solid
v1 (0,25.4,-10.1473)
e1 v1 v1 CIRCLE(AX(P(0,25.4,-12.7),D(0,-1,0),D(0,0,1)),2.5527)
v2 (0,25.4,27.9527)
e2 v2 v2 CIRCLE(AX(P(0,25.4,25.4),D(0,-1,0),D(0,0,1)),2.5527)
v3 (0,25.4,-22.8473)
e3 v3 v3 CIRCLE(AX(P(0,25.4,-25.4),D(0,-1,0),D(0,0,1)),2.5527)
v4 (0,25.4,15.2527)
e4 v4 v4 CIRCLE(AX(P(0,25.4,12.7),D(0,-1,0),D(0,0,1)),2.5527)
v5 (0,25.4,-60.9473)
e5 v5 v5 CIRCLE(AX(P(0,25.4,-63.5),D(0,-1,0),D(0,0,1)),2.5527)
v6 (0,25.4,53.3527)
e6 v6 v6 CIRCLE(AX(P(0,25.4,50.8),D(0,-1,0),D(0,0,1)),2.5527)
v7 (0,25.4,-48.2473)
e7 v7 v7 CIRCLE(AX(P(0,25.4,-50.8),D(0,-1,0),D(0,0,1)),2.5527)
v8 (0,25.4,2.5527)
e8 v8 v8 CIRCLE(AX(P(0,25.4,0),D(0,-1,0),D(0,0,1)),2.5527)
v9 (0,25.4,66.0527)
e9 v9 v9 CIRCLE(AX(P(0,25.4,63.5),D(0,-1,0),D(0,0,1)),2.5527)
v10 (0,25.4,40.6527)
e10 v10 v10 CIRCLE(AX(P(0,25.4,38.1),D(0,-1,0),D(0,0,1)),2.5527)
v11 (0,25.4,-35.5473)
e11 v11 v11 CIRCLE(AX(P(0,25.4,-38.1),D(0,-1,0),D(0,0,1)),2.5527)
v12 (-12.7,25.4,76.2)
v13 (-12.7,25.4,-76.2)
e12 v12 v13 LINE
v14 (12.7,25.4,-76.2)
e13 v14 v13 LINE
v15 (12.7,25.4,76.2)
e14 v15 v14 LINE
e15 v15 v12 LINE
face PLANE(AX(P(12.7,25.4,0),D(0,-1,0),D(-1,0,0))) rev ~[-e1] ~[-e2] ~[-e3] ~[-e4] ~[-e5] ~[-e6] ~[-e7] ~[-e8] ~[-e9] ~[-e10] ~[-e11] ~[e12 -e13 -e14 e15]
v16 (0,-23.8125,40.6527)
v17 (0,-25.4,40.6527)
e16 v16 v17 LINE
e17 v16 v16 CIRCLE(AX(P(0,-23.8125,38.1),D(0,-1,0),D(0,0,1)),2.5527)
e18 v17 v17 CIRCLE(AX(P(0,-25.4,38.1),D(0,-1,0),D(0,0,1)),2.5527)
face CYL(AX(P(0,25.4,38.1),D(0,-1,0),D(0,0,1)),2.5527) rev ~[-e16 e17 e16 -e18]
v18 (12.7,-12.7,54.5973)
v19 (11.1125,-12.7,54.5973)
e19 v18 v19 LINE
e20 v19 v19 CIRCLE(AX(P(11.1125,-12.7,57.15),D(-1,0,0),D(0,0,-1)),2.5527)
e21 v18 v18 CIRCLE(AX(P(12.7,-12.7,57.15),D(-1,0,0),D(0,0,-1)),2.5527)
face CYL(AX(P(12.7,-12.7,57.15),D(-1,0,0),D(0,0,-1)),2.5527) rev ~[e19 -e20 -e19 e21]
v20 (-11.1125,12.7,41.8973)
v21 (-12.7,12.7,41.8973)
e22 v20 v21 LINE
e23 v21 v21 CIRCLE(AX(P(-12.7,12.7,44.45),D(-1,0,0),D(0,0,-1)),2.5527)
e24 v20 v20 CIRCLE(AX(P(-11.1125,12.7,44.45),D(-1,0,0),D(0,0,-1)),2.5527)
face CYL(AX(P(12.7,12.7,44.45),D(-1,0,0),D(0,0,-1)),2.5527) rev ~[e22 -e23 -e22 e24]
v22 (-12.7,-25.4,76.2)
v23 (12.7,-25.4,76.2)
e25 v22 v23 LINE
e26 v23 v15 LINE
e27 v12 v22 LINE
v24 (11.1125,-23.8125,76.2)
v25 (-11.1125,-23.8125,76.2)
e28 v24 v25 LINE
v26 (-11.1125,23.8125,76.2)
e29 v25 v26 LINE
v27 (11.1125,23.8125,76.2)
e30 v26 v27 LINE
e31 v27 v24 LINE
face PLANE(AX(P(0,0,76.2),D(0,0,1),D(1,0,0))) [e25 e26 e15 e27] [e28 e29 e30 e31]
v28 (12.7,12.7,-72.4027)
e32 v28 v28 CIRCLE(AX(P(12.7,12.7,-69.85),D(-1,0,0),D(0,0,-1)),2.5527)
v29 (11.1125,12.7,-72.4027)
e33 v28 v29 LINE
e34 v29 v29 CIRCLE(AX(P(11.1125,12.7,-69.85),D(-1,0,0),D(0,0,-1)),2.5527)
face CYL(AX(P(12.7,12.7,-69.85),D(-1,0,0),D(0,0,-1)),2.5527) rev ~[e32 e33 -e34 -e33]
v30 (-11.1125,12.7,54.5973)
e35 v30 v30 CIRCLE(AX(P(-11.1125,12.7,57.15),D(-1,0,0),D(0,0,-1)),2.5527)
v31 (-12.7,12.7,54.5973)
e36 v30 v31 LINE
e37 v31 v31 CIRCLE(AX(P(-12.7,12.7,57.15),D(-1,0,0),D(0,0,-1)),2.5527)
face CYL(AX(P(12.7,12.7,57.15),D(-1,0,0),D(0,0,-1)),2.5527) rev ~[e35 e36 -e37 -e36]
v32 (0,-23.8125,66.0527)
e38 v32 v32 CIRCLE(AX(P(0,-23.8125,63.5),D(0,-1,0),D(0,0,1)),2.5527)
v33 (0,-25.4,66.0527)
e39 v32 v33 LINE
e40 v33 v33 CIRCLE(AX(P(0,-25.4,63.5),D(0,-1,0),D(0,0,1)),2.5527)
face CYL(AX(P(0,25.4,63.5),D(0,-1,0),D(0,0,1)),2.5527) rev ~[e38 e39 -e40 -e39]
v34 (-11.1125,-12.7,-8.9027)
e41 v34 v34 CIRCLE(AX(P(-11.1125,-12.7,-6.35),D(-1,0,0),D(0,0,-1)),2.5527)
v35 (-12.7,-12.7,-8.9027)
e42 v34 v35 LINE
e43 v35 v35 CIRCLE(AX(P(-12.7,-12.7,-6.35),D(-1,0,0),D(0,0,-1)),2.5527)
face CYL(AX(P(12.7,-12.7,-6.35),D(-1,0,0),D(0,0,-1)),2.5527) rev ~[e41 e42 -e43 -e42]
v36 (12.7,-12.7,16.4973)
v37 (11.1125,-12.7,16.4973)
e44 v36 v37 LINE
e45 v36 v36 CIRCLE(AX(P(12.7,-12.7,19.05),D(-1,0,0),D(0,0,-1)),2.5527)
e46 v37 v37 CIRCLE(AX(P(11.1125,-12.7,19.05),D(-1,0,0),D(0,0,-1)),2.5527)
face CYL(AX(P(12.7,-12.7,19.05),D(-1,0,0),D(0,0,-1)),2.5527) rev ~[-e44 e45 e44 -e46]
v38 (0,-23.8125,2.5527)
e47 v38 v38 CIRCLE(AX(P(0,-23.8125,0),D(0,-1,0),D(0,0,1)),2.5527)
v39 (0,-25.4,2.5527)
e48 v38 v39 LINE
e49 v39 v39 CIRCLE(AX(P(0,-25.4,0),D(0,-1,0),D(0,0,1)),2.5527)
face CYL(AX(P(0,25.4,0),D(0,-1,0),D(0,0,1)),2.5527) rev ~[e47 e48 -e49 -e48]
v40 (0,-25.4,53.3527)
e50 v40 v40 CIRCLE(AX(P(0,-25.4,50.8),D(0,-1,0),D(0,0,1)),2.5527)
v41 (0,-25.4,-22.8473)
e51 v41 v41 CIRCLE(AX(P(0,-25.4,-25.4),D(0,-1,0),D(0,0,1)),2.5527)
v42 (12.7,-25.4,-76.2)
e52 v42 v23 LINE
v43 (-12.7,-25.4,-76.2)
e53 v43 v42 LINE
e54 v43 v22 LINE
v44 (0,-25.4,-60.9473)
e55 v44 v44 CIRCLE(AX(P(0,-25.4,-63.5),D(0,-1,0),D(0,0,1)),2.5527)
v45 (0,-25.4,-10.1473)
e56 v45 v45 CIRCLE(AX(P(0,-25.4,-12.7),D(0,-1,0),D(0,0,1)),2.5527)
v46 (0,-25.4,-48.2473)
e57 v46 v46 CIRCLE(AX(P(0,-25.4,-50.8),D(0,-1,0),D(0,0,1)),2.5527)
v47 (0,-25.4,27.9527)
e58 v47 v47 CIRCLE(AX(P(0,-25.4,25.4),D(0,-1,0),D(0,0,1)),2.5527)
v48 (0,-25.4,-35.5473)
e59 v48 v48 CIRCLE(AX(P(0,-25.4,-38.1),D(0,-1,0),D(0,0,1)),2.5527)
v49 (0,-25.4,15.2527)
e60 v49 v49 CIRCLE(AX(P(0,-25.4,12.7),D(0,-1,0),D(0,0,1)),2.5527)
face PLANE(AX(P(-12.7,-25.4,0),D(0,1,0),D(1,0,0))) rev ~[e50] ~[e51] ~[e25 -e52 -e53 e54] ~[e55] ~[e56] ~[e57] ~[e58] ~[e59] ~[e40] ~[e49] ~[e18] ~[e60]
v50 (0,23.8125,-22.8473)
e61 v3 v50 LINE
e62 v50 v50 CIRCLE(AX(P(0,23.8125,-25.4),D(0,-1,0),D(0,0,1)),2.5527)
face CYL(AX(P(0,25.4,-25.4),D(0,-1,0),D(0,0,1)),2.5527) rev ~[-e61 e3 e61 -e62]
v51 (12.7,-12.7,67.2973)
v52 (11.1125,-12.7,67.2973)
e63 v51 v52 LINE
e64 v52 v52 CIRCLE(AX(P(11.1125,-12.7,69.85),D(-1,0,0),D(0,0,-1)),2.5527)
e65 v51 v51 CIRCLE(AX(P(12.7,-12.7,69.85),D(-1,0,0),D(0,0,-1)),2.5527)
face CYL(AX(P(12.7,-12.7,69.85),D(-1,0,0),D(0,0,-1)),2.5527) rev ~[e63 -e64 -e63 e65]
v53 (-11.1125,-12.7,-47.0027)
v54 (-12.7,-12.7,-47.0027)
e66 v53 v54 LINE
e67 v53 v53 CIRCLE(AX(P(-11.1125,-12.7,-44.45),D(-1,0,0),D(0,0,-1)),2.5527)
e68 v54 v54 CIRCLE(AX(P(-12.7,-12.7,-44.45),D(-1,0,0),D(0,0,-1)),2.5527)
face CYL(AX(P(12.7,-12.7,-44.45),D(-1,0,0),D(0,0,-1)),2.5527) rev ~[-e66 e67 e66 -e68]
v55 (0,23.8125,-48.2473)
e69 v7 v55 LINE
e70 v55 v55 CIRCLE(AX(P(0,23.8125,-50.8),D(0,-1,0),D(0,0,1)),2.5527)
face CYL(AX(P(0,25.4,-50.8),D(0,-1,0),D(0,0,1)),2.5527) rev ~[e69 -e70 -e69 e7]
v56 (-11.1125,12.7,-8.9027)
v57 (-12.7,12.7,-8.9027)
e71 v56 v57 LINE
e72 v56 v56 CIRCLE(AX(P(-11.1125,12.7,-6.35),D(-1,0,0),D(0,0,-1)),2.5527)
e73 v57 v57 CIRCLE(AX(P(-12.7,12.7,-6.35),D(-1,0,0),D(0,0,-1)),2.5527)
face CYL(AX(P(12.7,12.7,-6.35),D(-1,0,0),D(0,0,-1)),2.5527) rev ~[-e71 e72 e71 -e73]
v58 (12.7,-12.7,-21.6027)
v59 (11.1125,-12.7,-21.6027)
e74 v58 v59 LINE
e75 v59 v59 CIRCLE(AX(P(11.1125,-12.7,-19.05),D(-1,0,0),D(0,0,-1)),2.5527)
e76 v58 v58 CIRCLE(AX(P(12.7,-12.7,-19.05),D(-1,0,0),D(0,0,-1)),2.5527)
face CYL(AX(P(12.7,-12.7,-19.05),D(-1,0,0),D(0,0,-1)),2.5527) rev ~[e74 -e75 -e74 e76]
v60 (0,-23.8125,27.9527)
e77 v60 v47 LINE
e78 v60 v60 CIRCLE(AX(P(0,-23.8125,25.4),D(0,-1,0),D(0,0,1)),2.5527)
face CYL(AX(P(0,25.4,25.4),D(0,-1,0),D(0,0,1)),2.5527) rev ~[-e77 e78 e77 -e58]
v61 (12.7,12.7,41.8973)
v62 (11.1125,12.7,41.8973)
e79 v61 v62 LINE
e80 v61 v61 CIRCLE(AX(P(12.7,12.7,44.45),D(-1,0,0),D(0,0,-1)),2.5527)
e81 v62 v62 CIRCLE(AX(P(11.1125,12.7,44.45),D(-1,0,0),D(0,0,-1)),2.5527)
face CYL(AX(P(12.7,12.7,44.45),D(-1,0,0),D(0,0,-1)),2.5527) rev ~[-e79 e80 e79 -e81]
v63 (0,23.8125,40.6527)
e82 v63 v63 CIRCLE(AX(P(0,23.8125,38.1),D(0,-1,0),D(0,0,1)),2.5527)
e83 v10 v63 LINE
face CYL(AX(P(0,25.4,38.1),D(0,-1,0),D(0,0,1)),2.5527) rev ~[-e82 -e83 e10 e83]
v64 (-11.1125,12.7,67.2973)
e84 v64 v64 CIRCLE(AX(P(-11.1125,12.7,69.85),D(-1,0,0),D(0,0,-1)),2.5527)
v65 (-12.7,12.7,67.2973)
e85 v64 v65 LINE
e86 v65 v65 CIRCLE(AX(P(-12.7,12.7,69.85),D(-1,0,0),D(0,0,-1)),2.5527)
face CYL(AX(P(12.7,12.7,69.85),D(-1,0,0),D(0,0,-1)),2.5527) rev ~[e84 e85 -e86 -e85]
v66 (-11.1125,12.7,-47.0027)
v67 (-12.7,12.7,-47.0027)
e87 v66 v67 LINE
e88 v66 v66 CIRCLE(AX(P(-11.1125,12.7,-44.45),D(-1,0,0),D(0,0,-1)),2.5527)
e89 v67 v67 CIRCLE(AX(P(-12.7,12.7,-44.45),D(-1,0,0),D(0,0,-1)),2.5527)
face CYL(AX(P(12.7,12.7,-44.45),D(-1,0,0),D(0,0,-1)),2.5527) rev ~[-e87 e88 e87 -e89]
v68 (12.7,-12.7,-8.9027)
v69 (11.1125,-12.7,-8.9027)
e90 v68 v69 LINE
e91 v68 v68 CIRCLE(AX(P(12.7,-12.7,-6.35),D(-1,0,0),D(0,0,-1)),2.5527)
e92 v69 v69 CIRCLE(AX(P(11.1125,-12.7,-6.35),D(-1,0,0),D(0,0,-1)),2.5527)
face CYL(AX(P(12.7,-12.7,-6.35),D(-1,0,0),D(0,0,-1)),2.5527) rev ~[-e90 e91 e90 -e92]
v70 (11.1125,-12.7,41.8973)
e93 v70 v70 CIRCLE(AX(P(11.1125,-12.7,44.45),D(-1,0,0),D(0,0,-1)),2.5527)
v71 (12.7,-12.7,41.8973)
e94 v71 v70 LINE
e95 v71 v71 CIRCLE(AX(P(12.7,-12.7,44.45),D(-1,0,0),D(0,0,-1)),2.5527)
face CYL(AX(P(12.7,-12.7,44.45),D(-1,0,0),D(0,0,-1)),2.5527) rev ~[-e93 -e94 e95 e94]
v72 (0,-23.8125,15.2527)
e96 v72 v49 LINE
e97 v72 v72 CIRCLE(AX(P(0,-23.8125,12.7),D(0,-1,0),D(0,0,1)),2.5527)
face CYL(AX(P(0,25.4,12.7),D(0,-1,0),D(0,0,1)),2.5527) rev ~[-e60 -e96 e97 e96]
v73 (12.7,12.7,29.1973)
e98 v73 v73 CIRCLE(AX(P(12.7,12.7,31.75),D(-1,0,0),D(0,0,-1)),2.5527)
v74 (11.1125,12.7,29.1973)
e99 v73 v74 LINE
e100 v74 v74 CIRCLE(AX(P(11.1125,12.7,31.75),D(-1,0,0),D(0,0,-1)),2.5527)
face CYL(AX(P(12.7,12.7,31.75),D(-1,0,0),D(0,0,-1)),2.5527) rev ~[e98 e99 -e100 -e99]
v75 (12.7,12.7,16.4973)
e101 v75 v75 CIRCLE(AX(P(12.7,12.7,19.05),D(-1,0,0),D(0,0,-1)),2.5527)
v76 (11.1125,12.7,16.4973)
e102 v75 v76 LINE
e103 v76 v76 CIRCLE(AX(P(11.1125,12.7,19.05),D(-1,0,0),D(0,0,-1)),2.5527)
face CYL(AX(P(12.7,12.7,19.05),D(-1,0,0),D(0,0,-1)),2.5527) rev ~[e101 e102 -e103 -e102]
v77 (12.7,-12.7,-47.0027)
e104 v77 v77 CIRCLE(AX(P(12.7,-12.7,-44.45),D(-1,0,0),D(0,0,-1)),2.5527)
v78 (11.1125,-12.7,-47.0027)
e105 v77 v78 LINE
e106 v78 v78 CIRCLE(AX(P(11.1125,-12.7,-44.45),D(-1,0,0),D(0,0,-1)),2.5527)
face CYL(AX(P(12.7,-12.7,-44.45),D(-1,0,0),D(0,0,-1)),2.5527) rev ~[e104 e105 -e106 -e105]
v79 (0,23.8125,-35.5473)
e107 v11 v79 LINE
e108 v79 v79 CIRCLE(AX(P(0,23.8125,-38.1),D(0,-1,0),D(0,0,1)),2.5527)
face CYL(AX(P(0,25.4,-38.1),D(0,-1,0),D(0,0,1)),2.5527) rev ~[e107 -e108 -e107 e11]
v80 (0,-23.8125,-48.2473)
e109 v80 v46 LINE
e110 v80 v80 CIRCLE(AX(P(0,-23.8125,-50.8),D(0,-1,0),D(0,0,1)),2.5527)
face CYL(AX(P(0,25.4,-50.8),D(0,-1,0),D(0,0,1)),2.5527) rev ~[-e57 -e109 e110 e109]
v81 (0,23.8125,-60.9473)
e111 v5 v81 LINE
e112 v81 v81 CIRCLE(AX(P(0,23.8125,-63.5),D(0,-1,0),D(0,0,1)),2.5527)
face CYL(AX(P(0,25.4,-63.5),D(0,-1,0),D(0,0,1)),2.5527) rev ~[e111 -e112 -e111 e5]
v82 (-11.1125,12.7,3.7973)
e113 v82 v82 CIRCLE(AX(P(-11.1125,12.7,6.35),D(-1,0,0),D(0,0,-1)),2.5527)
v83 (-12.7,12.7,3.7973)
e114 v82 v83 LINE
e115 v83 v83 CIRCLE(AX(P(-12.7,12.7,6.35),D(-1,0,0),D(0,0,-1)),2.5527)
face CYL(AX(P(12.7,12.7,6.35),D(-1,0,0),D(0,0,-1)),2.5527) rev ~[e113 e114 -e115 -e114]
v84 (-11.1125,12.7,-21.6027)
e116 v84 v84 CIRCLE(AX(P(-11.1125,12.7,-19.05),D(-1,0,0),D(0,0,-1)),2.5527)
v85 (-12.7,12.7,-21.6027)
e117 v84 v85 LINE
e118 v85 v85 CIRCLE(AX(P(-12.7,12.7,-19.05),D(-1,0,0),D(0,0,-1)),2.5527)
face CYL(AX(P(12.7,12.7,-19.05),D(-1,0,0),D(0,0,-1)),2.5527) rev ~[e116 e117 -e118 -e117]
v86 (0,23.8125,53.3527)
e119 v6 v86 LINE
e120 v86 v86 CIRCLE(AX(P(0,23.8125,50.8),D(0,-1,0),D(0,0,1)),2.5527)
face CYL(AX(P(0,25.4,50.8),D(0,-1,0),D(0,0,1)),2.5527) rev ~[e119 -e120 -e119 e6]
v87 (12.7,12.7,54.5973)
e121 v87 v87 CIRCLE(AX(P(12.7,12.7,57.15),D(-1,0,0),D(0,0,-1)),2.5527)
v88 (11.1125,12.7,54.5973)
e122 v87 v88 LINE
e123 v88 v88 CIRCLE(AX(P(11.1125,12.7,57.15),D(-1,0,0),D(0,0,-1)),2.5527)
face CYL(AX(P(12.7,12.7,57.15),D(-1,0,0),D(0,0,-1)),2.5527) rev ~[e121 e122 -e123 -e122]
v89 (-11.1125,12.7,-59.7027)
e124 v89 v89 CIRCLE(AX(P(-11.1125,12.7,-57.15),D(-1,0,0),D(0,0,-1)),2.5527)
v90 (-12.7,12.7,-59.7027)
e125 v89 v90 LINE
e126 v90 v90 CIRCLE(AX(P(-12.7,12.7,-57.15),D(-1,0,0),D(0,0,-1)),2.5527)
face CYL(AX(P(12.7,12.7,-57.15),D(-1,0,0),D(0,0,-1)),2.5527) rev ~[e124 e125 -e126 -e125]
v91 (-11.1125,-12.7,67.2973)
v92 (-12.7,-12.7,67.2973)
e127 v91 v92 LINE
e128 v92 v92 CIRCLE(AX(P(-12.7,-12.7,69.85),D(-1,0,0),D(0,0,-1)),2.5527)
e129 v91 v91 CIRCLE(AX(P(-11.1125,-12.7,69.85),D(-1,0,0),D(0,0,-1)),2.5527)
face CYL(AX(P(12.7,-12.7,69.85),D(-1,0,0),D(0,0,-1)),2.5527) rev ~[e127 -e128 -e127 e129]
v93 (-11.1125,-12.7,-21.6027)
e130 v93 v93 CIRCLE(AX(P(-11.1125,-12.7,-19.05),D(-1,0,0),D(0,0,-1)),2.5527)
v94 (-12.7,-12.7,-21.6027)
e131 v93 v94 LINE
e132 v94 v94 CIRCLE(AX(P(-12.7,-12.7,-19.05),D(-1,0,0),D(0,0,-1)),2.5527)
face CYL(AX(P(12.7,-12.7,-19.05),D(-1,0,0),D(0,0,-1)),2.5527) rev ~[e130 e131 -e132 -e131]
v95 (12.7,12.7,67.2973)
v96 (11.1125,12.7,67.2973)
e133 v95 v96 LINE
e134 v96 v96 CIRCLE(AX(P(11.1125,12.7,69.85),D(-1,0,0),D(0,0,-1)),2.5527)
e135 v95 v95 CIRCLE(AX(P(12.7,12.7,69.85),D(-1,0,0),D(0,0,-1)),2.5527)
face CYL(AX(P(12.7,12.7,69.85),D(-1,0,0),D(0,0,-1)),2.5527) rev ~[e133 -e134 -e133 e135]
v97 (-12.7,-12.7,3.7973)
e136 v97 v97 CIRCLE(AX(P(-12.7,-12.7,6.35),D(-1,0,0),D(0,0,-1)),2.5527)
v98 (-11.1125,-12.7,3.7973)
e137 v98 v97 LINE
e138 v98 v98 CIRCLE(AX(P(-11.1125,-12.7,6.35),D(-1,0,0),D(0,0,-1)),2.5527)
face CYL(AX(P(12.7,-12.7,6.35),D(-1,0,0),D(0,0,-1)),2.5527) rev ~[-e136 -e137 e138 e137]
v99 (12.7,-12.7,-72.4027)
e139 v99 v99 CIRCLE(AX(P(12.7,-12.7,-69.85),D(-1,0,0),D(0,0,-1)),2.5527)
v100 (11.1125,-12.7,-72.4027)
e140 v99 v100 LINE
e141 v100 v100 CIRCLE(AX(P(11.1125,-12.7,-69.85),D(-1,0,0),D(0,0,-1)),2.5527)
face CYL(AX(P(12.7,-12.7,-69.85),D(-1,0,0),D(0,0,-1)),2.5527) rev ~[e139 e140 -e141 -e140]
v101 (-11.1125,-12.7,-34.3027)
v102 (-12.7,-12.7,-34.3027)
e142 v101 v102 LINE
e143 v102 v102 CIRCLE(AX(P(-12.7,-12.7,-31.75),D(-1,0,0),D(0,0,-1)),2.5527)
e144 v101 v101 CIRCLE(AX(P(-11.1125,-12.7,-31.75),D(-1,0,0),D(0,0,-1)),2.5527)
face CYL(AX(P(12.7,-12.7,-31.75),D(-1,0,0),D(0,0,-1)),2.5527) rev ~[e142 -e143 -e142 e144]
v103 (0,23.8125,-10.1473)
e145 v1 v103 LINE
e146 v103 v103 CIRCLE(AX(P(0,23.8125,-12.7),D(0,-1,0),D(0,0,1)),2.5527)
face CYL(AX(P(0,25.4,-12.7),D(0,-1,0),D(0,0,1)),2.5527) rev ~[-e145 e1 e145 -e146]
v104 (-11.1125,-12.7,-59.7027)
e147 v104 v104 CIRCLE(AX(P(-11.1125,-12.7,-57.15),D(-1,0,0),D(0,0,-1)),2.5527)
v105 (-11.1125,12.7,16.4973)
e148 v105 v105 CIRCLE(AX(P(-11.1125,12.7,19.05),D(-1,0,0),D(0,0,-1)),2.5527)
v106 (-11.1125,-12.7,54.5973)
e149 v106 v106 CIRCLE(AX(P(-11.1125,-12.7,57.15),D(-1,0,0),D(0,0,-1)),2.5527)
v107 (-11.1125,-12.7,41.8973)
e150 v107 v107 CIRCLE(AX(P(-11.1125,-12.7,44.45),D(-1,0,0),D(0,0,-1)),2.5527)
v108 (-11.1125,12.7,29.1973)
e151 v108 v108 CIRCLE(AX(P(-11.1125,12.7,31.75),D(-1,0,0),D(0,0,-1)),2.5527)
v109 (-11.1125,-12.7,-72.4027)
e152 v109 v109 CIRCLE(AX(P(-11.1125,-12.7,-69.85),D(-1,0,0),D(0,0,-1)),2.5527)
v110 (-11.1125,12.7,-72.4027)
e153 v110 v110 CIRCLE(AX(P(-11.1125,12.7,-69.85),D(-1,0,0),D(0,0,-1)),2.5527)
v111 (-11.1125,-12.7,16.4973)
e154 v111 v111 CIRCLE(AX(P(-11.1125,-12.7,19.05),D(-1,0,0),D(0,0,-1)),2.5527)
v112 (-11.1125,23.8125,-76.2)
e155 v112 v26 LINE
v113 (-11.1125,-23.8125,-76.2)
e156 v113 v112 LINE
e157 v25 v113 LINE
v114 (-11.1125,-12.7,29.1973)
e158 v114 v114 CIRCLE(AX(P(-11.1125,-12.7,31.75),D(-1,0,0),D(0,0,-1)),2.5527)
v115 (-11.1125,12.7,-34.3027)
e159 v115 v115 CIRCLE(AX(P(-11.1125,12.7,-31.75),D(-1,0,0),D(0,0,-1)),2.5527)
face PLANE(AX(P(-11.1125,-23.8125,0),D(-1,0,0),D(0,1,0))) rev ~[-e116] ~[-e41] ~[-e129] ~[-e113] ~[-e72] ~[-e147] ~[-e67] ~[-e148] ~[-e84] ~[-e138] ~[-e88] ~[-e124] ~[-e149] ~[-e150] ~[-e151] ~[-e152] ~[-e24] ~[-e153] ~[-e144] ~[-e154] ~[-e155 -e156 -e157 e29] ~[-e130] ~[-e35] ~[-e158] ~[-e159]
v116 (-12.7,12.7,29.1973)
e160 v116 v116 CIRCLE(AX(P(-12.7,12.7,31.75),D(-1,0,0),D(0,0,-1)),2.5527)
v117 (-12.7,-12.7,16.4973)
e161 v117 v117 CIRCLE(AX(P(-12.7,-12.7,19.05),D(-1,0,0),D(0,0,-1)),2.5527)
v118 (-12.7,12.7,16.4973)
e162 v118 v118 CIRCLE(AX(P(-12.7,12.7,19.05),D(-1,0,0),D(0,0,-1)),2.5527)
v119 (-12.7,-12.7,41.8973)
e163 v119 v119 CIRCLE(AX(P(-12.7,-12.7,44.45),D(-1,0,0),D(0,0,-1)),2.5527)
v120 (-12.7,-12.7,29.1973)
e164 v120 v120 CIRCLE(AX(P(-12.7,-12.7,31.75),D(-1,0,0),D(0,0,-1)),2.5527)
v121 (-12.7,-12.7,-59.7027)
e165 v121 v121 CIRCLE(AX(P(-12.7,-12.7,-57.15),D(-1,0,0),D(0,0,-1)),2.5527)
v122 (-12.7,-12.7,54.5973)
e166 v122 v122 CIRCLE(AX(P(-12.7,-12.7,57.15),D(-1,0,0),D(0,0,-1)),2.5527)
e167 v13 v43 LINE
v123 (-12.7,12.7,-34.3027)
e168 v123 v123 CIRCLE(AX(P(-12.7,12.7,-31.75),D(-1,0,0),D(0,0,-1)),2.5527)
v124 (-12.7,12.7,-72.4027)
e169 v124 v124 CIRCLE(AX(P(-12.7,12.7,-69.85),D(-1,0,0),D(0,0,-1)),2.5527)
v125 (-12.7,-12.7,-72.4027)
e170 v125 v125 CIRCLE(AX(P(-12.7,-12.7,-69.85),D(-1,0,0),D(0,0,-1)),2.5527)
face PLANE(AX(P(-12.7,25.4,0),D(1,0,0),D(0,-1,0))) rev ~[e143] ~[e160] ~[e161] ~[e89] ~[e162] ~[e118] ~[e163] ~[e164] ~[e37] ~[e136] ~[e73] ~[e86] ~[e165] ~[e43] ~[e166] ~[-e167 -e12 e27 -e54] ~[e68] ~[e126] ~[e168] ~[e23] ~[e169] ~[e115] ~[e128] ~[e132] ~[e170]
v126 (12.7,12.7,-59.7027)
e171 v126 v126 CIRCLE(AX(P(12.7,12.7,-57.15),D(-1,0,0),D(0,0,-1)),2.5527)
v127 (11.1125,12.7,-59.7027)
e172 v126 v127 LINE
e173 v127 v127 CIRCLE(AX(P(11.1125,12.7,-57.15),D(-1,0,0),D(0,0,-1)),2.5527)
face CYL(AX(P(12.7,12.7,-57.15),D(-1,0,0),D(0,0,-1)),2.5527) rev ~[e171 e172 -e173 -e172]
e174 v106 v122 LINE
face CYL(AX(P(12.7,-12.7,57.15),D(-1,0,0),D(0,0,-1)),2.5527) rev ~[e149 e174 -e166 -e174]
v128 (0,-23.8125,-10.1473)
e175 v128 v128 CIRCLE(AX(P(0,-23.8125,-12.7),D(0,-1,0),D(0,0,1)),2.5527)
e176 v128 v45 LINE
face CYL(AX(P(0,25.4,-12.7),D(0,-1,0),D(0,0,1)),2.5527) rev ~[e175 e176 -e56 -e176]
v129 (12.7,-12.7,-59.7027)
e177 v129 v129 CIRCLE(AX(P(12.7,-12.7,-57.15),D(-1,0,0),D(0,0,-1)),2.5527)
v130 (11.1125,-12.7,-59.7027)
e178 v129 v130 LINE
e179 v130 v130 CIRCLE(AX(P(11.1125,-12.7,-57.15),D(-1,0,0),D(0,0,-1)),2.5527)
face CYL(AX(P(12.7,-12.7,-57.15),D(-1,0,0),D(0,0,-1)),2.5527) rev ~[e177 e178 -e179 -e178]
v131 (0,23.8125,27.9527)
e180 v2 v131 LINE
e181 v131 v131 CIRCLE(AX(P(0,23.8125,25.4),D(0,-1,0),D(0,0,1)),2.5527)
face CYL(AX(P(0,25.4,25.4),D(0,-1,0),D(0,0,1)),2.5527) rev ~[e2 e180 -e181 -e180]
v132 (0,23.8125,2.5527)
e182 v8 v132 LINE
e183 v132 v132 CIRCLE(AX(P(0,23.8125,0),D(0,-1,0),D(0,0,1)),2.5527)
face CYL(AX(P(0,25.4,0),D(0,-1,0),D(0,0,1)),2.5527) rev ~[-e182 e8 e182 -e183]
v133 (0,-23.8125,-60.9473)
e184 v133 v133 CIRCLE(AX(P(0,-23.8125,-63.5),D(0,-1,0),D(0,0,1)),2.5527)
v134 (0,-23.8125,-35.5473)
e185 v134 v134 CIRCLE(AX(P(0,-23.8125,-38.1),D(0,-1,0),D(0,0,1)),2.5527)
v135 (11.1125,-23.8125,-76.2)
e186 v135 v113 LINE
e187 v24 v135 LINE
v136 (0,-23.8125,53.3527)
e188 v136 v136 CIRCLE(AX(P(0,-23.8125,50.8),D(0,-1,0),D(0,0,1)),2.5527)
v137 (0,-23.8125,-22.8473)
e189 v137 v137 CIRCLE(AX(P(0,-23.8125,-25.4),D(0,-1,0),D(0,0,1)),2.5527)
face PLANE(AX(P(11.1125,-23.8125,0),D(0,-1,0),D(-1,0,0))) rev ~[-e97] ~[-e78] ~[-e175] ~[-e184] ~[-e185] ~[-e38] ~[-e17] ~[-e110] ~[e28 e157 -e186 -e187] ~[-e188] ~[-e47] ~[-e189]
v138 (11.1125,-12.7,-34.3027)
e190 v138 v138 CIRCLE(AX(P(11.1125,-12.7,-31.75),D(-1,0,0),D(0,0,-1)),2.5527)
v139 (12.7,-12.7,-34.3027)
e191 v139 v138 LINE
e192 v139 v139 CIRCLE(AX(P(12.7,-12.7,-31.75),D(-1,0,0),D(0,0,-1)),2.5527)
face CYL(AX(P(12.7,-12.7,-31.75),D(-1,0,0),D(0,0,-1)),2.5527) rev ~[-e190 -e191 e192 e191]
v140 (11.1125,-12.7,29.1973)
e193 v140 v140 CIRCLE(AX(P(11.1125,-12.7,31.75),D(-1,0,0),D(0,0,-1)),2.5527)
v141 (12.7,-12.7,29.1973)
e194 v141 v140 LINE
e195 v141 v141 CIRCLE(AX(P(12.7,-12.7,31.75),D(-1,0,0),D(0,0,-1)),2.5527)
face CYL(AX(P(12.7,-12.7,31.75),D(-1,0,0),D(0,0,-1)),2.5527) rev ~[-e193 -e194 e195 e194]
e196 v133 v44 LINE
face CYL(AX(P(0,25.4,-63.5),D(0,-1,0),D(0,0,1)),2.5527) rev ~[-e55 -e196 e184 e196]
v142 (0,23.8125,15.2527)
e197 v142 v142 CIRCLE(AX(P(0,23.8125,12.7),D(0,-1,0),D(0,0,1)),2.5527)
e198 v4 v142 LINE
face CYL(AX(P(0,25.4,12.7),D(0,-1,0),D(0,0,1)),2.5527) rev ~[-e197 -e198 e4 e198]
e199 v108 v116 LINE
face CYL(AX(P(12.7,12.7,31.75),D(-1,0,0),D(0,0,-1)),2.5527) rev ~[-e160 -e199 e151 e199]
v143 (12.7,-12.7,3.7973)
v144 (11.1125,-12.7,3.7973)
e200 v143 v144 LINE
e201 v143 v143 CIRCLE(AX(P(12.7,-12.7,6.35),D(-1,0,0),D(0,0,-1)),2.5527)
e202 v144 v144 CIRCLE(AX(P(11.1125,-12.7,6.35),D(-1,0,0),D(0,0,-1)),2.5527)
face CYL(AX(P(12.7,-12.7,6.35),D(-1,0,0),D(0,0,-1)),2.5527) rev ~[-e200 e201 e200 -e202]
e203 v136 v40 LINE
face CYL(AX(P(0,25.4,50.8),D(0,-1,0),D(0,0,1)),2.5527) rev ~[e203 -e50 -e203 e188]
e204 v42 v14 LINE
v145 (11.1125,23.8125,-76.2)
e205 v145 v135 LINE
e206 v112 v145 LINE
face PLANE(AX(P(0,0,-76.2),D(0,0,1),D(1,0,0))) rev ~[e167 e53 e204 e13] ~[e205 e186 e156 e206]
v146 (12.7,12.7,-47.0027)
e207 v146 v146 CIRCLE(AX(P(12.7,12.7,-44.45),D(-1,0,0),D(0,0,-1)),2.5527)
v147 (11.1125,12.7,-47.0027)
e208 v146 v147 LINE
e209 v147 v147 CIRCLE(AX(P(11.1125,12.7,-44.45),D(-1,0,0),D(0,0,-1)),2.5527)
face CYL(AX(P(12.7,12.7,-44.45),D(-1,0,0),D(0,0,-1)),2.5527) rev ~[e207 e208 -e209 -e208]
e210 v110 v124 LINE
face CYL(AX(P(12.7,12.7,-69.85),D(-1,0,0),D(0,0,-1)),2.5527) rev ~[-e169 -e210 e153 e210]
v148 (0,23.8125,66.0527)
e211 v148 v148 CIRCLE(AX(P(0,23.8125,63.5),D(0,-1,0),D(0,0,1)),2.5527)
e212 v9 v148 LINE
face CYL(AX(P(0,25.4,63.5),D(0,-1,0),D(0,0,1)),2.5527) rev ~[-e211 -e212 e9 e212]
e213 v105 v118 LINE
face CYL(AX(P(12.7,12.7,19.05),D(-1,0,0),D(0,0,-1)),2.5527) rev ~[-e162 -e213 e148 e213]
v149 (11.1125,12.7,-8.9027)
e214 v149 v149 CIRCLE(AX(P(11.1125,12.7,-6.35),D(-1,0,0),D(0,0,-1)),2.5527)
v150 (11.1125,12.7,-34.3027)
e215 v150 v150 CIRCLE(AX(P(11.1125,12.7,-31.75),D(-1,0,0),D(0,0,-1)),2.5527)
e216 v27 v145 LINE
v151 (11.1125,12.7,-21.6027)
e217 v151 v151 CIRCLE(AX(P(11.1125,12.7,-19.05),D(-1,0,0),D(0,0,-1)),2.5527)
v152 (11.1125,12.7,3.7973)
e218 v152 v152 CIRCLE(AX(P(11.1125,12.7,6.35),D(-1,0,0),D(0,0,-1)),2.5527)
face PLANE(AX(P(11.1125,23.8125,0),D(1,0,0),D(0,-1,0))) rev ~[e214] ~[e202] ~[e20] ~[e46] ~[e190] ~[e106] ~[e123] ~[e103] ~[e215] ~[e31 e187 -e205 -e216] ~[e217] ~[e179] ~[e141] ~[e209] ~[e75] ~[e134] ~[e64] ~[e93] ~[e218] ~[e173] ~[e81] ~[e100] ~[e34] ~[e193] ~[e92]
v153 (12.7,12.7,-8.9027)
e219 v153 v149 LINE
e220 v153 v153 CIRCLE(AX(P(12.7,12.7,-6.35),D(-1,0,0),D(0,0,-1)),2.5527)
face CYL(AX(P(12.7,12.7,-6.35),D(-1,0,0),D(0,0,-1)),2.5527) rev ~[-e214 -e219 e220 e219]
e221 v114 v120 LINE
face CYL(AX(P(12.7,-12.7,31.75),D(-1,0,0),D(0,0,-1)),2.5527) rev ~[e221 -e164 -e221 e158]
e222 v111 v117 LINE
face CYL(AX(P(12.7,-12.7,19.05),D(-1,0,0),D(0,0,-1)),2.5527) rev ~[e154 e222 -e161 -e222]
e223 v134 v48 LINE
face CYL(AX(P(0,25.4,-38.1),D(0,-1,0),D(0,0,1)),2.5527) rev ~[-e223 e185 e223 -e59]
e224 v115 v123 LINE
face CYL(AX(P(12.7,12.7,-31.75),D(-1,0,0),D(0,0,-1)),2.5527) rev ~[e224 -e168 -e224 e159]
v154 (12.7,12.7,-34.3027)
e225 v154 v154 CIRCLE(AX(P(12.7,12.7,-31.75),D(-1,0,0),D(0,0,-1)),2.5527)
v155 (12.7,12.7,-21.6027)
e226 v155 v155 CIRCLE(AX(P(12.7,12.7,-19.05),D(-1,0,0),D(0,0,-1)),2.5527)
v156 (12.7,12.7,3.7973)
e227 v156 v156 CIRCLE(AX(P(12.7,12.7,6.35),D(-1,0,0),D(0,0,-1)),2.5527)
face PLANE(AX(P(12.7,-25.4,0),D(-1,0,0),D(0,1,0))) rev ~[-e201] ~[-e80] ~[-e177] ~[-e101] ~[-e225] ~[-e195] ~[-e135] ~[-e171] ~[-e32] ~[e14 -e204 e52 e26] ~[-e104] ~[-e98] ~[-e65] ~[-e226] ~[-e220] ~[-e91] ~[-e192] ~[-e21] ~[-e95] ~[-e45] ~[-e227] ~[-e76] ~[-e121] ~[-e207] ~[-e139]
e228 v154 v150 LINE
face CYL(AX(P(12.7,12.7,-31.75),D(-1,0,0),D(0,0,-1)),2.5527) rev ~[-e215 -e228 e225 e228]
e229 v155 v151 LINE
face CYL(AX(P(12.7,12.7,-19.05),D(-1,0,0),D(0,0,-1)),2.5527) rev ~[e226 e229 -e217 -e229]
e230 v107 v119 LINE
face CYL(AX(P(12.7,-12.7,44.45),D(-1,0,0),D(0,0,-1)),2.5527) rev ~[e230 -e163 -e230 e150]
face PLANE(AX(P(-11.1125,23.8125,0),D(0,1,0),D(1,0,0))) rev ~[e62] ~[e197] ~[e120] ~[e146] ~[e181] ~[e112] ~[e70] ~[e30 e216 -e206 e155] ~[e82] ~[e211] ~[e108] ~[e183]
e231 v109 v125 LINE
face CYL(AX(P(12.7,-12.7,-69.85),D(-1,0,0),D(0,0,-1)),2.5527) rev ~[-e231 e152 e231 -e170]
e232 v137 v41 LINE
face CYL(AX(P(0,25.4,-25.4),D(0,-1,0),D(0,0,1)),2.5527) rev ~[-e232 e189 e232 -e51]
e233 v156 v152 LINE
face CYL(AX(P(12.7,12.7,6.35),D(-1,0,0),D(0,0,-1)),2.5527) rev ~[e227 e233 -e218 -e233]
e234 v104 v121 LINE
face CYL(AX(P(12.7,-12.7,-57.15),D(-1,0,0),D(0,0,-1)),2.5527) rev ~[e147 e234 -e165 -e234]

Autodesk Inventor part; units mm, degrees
ref_plane "YZ Plane" through (0, 0, 0) normal (1, 0, 0) x (0, 1, 0)
ref_plane "XZ Plane" through (0, 0, 0) normal (0, 1, 0) x (-1, 0, 0)
ref_plane "XY Plane" through (0, 0, 0) normal (0, 0, 1) x (1, 0, 0)
sketch "Sketch1" plane through (0, 0, 0) normal (0, 0, 1) x (1, 0, 0)
  line L0 (-12.7, -25.4) -> (12.7, -25.4)
  line L1 (12.7, -25.4) -> (12.7, 25.4)
  line L2 (12.7, 25.4) -> (-12.7, 25.4)
  line L3 (-12.7, 25.4) -> (-12.7, -25.4)
  line L4 (-12.7, -25.4) -> (12.7, 25.4) construction
  line L5 (12.7, -25.4) -> (-12.7, 25.4) construction
  line L6 (-11.1125, 23.8125) -> (11.1125, 23.8125)
  line L7 (11.1125, 23.8125) -> (11.1125, -23.8125)
  line L8 (11.1125, -23.8125) -> (-11.1125, -23.8125)
  line L9 (-11.1125, -23.8125) -> (-11.1125, 23.8125)
  point P0 (0, 0)
  dimension "width" = 25.4
  dimension "height" = 50.8
  dimension "thickness" = 1.5875
extrude "Extrusion1" add sketch "Sketch1" along normal mid plane 152.4
sketch "Sketch2" plane through (-12.7, 25.4, 76.2) normal (0, 1, 0) x (1, 0, 0)
  line L0 (25.4, 0) -> (0, 0) construction
  line L1 (0, 152.4) -> (0, 0) construction
  line L2 (25.4, 0) -> (0, 0) construction
  line L3 (25.4, 152.4) -> (25.4, 0) construction
  line L4 (0, 152.4) -> (25.4, 152.4) construction
  point P0 (12.7, 76.2)
  point P1 (12.7, 12.7)
  point P2 (12.7, 25.4)
  point P3 (12.7, 38.1)
  point P4 (12.7, 50.8)
  point P5 (12.7, 63.5)
  point P6 (12.7, 76.2)
  point P7 (12.7, 88.9)
  point P8 (12.7, 101.6)
  point P9 (12.7, 114.3)
  point P10 (12.7, 127)
  point P11 (12.7, 139.7)
  dimension "d5" = 12.7
  dimension "d8" = 12.7
hole "Hole1" at (0, 25.4, 63.5) at (0, 25.4, 50.8) at (0, 25.4, 38.1) at (0, 25.4, 25.4) at (0, 25.4, 12.7) at (0, 25.4, 0) at (0, 25.4, -12.7) at (0, 25.4, -25.4) at (0, 25.4, -38.1) at (0, 25.4, -50.8) at (0, 25.4, -63.5) direction (0, -1, 0) diameter 5.1054 end through all clearance for "Socket Head Cap Screw" size "#10" standard "Ansi Unified Screw Threads"
sketch "Sketch3" plane through (12.7, -25.4, 76.2) normal (1, 0, 0) x (0, 0, -1)
  line L0 (6.35, 38.1) -> (6.35, 12.7) construction
  line L1 (0, 0) -> (0, 50.8) construction
  line L2 (152.4, 50.8) -> (0, 50.8) construction
  line L3 (0, 0) -> (0, 50.8) construction
  line L4 (152.4, 0) -> (0, 0) construction
  line L5 (152.4, 50.8) -> (152.4, 0) construction
  point P0 (76.2, 25.4)
  point P1 (6.35, 25.4)
  point P2 (19.05, 38.1)
  point P3 (19.05, 12.7)
  point P4 (31.75, 38.1)
  point P5 (31.75, 12.7)
  point P6 (44.45, 38.1)
  point P7 (44.45, 12.7)
  point P8 (57.15, 38.1)
  point P9 (57.15, 12.7)
  point P10 (69.85, 38.1)
  point P11 (69.85, 12.7)
  point P12 (82.55, 38.1)
  point P13 (82.55, 12.7)
  point P14 (95.25, 38.1)
  point P15 (95.25, 12.7)
  point P16 (107.95, 38.1)
  point P17 (107.95, 12.7)
  point P18 (120.65, 38.1)
  point P19 (120.65, 12.7)
  point P20 (133.35, 38.1)
  point P21 (133.35, 12.7)
  point P22 (146.05, 38.1)
  point P23 (146.05, 12.7)
  dimension "d20" = 25.4
  dimension "d21" = 6.35
  dimension "d24" = 12.7
hole "Hole2" at (12.7, 12.7, 69.85) at (12.7, -12.7, 69.85) at (12.7, 12.7, 57.15) at (12.7, -12.7, 57.15) at (12.7, 12.7, 44.45) at (12.7, -12.7, 44.45) at (12.7, 12.7, 31.75) at (12.7, -12.7, 31.75) at (12.7, 12.7, 19.05) at (12.7, -12.7, 19.05) at (12.7, 12.7, 6.35) at (12.7, -12.7, 6.35) at (12.7, 12.7, -6.35) at (12.7, -12.7, -6.35) at (12.7, 12.7, -19.05) at (12.7, -12.7, -19.05) at (12.7, 12.7, -31.75) at (12.7, -12.7, -31.75) at (12.7, 12.7, -44.45) at (12.7, -12.7, -44.45) at (12.7, 12.7, -57.15) at (12.7, -12.7, -57.15) at (12.7, 12.7, -69.85) at (12.7, -12.7, -69.85) direction (-1, 0, 0) diameter 5.1054 end through all clearance for "Socket Head Cap Screw" size "#10" standard "Ansi Unified Screw Threads"
properties part number "CL7-006" material "Aluminum 6061"
